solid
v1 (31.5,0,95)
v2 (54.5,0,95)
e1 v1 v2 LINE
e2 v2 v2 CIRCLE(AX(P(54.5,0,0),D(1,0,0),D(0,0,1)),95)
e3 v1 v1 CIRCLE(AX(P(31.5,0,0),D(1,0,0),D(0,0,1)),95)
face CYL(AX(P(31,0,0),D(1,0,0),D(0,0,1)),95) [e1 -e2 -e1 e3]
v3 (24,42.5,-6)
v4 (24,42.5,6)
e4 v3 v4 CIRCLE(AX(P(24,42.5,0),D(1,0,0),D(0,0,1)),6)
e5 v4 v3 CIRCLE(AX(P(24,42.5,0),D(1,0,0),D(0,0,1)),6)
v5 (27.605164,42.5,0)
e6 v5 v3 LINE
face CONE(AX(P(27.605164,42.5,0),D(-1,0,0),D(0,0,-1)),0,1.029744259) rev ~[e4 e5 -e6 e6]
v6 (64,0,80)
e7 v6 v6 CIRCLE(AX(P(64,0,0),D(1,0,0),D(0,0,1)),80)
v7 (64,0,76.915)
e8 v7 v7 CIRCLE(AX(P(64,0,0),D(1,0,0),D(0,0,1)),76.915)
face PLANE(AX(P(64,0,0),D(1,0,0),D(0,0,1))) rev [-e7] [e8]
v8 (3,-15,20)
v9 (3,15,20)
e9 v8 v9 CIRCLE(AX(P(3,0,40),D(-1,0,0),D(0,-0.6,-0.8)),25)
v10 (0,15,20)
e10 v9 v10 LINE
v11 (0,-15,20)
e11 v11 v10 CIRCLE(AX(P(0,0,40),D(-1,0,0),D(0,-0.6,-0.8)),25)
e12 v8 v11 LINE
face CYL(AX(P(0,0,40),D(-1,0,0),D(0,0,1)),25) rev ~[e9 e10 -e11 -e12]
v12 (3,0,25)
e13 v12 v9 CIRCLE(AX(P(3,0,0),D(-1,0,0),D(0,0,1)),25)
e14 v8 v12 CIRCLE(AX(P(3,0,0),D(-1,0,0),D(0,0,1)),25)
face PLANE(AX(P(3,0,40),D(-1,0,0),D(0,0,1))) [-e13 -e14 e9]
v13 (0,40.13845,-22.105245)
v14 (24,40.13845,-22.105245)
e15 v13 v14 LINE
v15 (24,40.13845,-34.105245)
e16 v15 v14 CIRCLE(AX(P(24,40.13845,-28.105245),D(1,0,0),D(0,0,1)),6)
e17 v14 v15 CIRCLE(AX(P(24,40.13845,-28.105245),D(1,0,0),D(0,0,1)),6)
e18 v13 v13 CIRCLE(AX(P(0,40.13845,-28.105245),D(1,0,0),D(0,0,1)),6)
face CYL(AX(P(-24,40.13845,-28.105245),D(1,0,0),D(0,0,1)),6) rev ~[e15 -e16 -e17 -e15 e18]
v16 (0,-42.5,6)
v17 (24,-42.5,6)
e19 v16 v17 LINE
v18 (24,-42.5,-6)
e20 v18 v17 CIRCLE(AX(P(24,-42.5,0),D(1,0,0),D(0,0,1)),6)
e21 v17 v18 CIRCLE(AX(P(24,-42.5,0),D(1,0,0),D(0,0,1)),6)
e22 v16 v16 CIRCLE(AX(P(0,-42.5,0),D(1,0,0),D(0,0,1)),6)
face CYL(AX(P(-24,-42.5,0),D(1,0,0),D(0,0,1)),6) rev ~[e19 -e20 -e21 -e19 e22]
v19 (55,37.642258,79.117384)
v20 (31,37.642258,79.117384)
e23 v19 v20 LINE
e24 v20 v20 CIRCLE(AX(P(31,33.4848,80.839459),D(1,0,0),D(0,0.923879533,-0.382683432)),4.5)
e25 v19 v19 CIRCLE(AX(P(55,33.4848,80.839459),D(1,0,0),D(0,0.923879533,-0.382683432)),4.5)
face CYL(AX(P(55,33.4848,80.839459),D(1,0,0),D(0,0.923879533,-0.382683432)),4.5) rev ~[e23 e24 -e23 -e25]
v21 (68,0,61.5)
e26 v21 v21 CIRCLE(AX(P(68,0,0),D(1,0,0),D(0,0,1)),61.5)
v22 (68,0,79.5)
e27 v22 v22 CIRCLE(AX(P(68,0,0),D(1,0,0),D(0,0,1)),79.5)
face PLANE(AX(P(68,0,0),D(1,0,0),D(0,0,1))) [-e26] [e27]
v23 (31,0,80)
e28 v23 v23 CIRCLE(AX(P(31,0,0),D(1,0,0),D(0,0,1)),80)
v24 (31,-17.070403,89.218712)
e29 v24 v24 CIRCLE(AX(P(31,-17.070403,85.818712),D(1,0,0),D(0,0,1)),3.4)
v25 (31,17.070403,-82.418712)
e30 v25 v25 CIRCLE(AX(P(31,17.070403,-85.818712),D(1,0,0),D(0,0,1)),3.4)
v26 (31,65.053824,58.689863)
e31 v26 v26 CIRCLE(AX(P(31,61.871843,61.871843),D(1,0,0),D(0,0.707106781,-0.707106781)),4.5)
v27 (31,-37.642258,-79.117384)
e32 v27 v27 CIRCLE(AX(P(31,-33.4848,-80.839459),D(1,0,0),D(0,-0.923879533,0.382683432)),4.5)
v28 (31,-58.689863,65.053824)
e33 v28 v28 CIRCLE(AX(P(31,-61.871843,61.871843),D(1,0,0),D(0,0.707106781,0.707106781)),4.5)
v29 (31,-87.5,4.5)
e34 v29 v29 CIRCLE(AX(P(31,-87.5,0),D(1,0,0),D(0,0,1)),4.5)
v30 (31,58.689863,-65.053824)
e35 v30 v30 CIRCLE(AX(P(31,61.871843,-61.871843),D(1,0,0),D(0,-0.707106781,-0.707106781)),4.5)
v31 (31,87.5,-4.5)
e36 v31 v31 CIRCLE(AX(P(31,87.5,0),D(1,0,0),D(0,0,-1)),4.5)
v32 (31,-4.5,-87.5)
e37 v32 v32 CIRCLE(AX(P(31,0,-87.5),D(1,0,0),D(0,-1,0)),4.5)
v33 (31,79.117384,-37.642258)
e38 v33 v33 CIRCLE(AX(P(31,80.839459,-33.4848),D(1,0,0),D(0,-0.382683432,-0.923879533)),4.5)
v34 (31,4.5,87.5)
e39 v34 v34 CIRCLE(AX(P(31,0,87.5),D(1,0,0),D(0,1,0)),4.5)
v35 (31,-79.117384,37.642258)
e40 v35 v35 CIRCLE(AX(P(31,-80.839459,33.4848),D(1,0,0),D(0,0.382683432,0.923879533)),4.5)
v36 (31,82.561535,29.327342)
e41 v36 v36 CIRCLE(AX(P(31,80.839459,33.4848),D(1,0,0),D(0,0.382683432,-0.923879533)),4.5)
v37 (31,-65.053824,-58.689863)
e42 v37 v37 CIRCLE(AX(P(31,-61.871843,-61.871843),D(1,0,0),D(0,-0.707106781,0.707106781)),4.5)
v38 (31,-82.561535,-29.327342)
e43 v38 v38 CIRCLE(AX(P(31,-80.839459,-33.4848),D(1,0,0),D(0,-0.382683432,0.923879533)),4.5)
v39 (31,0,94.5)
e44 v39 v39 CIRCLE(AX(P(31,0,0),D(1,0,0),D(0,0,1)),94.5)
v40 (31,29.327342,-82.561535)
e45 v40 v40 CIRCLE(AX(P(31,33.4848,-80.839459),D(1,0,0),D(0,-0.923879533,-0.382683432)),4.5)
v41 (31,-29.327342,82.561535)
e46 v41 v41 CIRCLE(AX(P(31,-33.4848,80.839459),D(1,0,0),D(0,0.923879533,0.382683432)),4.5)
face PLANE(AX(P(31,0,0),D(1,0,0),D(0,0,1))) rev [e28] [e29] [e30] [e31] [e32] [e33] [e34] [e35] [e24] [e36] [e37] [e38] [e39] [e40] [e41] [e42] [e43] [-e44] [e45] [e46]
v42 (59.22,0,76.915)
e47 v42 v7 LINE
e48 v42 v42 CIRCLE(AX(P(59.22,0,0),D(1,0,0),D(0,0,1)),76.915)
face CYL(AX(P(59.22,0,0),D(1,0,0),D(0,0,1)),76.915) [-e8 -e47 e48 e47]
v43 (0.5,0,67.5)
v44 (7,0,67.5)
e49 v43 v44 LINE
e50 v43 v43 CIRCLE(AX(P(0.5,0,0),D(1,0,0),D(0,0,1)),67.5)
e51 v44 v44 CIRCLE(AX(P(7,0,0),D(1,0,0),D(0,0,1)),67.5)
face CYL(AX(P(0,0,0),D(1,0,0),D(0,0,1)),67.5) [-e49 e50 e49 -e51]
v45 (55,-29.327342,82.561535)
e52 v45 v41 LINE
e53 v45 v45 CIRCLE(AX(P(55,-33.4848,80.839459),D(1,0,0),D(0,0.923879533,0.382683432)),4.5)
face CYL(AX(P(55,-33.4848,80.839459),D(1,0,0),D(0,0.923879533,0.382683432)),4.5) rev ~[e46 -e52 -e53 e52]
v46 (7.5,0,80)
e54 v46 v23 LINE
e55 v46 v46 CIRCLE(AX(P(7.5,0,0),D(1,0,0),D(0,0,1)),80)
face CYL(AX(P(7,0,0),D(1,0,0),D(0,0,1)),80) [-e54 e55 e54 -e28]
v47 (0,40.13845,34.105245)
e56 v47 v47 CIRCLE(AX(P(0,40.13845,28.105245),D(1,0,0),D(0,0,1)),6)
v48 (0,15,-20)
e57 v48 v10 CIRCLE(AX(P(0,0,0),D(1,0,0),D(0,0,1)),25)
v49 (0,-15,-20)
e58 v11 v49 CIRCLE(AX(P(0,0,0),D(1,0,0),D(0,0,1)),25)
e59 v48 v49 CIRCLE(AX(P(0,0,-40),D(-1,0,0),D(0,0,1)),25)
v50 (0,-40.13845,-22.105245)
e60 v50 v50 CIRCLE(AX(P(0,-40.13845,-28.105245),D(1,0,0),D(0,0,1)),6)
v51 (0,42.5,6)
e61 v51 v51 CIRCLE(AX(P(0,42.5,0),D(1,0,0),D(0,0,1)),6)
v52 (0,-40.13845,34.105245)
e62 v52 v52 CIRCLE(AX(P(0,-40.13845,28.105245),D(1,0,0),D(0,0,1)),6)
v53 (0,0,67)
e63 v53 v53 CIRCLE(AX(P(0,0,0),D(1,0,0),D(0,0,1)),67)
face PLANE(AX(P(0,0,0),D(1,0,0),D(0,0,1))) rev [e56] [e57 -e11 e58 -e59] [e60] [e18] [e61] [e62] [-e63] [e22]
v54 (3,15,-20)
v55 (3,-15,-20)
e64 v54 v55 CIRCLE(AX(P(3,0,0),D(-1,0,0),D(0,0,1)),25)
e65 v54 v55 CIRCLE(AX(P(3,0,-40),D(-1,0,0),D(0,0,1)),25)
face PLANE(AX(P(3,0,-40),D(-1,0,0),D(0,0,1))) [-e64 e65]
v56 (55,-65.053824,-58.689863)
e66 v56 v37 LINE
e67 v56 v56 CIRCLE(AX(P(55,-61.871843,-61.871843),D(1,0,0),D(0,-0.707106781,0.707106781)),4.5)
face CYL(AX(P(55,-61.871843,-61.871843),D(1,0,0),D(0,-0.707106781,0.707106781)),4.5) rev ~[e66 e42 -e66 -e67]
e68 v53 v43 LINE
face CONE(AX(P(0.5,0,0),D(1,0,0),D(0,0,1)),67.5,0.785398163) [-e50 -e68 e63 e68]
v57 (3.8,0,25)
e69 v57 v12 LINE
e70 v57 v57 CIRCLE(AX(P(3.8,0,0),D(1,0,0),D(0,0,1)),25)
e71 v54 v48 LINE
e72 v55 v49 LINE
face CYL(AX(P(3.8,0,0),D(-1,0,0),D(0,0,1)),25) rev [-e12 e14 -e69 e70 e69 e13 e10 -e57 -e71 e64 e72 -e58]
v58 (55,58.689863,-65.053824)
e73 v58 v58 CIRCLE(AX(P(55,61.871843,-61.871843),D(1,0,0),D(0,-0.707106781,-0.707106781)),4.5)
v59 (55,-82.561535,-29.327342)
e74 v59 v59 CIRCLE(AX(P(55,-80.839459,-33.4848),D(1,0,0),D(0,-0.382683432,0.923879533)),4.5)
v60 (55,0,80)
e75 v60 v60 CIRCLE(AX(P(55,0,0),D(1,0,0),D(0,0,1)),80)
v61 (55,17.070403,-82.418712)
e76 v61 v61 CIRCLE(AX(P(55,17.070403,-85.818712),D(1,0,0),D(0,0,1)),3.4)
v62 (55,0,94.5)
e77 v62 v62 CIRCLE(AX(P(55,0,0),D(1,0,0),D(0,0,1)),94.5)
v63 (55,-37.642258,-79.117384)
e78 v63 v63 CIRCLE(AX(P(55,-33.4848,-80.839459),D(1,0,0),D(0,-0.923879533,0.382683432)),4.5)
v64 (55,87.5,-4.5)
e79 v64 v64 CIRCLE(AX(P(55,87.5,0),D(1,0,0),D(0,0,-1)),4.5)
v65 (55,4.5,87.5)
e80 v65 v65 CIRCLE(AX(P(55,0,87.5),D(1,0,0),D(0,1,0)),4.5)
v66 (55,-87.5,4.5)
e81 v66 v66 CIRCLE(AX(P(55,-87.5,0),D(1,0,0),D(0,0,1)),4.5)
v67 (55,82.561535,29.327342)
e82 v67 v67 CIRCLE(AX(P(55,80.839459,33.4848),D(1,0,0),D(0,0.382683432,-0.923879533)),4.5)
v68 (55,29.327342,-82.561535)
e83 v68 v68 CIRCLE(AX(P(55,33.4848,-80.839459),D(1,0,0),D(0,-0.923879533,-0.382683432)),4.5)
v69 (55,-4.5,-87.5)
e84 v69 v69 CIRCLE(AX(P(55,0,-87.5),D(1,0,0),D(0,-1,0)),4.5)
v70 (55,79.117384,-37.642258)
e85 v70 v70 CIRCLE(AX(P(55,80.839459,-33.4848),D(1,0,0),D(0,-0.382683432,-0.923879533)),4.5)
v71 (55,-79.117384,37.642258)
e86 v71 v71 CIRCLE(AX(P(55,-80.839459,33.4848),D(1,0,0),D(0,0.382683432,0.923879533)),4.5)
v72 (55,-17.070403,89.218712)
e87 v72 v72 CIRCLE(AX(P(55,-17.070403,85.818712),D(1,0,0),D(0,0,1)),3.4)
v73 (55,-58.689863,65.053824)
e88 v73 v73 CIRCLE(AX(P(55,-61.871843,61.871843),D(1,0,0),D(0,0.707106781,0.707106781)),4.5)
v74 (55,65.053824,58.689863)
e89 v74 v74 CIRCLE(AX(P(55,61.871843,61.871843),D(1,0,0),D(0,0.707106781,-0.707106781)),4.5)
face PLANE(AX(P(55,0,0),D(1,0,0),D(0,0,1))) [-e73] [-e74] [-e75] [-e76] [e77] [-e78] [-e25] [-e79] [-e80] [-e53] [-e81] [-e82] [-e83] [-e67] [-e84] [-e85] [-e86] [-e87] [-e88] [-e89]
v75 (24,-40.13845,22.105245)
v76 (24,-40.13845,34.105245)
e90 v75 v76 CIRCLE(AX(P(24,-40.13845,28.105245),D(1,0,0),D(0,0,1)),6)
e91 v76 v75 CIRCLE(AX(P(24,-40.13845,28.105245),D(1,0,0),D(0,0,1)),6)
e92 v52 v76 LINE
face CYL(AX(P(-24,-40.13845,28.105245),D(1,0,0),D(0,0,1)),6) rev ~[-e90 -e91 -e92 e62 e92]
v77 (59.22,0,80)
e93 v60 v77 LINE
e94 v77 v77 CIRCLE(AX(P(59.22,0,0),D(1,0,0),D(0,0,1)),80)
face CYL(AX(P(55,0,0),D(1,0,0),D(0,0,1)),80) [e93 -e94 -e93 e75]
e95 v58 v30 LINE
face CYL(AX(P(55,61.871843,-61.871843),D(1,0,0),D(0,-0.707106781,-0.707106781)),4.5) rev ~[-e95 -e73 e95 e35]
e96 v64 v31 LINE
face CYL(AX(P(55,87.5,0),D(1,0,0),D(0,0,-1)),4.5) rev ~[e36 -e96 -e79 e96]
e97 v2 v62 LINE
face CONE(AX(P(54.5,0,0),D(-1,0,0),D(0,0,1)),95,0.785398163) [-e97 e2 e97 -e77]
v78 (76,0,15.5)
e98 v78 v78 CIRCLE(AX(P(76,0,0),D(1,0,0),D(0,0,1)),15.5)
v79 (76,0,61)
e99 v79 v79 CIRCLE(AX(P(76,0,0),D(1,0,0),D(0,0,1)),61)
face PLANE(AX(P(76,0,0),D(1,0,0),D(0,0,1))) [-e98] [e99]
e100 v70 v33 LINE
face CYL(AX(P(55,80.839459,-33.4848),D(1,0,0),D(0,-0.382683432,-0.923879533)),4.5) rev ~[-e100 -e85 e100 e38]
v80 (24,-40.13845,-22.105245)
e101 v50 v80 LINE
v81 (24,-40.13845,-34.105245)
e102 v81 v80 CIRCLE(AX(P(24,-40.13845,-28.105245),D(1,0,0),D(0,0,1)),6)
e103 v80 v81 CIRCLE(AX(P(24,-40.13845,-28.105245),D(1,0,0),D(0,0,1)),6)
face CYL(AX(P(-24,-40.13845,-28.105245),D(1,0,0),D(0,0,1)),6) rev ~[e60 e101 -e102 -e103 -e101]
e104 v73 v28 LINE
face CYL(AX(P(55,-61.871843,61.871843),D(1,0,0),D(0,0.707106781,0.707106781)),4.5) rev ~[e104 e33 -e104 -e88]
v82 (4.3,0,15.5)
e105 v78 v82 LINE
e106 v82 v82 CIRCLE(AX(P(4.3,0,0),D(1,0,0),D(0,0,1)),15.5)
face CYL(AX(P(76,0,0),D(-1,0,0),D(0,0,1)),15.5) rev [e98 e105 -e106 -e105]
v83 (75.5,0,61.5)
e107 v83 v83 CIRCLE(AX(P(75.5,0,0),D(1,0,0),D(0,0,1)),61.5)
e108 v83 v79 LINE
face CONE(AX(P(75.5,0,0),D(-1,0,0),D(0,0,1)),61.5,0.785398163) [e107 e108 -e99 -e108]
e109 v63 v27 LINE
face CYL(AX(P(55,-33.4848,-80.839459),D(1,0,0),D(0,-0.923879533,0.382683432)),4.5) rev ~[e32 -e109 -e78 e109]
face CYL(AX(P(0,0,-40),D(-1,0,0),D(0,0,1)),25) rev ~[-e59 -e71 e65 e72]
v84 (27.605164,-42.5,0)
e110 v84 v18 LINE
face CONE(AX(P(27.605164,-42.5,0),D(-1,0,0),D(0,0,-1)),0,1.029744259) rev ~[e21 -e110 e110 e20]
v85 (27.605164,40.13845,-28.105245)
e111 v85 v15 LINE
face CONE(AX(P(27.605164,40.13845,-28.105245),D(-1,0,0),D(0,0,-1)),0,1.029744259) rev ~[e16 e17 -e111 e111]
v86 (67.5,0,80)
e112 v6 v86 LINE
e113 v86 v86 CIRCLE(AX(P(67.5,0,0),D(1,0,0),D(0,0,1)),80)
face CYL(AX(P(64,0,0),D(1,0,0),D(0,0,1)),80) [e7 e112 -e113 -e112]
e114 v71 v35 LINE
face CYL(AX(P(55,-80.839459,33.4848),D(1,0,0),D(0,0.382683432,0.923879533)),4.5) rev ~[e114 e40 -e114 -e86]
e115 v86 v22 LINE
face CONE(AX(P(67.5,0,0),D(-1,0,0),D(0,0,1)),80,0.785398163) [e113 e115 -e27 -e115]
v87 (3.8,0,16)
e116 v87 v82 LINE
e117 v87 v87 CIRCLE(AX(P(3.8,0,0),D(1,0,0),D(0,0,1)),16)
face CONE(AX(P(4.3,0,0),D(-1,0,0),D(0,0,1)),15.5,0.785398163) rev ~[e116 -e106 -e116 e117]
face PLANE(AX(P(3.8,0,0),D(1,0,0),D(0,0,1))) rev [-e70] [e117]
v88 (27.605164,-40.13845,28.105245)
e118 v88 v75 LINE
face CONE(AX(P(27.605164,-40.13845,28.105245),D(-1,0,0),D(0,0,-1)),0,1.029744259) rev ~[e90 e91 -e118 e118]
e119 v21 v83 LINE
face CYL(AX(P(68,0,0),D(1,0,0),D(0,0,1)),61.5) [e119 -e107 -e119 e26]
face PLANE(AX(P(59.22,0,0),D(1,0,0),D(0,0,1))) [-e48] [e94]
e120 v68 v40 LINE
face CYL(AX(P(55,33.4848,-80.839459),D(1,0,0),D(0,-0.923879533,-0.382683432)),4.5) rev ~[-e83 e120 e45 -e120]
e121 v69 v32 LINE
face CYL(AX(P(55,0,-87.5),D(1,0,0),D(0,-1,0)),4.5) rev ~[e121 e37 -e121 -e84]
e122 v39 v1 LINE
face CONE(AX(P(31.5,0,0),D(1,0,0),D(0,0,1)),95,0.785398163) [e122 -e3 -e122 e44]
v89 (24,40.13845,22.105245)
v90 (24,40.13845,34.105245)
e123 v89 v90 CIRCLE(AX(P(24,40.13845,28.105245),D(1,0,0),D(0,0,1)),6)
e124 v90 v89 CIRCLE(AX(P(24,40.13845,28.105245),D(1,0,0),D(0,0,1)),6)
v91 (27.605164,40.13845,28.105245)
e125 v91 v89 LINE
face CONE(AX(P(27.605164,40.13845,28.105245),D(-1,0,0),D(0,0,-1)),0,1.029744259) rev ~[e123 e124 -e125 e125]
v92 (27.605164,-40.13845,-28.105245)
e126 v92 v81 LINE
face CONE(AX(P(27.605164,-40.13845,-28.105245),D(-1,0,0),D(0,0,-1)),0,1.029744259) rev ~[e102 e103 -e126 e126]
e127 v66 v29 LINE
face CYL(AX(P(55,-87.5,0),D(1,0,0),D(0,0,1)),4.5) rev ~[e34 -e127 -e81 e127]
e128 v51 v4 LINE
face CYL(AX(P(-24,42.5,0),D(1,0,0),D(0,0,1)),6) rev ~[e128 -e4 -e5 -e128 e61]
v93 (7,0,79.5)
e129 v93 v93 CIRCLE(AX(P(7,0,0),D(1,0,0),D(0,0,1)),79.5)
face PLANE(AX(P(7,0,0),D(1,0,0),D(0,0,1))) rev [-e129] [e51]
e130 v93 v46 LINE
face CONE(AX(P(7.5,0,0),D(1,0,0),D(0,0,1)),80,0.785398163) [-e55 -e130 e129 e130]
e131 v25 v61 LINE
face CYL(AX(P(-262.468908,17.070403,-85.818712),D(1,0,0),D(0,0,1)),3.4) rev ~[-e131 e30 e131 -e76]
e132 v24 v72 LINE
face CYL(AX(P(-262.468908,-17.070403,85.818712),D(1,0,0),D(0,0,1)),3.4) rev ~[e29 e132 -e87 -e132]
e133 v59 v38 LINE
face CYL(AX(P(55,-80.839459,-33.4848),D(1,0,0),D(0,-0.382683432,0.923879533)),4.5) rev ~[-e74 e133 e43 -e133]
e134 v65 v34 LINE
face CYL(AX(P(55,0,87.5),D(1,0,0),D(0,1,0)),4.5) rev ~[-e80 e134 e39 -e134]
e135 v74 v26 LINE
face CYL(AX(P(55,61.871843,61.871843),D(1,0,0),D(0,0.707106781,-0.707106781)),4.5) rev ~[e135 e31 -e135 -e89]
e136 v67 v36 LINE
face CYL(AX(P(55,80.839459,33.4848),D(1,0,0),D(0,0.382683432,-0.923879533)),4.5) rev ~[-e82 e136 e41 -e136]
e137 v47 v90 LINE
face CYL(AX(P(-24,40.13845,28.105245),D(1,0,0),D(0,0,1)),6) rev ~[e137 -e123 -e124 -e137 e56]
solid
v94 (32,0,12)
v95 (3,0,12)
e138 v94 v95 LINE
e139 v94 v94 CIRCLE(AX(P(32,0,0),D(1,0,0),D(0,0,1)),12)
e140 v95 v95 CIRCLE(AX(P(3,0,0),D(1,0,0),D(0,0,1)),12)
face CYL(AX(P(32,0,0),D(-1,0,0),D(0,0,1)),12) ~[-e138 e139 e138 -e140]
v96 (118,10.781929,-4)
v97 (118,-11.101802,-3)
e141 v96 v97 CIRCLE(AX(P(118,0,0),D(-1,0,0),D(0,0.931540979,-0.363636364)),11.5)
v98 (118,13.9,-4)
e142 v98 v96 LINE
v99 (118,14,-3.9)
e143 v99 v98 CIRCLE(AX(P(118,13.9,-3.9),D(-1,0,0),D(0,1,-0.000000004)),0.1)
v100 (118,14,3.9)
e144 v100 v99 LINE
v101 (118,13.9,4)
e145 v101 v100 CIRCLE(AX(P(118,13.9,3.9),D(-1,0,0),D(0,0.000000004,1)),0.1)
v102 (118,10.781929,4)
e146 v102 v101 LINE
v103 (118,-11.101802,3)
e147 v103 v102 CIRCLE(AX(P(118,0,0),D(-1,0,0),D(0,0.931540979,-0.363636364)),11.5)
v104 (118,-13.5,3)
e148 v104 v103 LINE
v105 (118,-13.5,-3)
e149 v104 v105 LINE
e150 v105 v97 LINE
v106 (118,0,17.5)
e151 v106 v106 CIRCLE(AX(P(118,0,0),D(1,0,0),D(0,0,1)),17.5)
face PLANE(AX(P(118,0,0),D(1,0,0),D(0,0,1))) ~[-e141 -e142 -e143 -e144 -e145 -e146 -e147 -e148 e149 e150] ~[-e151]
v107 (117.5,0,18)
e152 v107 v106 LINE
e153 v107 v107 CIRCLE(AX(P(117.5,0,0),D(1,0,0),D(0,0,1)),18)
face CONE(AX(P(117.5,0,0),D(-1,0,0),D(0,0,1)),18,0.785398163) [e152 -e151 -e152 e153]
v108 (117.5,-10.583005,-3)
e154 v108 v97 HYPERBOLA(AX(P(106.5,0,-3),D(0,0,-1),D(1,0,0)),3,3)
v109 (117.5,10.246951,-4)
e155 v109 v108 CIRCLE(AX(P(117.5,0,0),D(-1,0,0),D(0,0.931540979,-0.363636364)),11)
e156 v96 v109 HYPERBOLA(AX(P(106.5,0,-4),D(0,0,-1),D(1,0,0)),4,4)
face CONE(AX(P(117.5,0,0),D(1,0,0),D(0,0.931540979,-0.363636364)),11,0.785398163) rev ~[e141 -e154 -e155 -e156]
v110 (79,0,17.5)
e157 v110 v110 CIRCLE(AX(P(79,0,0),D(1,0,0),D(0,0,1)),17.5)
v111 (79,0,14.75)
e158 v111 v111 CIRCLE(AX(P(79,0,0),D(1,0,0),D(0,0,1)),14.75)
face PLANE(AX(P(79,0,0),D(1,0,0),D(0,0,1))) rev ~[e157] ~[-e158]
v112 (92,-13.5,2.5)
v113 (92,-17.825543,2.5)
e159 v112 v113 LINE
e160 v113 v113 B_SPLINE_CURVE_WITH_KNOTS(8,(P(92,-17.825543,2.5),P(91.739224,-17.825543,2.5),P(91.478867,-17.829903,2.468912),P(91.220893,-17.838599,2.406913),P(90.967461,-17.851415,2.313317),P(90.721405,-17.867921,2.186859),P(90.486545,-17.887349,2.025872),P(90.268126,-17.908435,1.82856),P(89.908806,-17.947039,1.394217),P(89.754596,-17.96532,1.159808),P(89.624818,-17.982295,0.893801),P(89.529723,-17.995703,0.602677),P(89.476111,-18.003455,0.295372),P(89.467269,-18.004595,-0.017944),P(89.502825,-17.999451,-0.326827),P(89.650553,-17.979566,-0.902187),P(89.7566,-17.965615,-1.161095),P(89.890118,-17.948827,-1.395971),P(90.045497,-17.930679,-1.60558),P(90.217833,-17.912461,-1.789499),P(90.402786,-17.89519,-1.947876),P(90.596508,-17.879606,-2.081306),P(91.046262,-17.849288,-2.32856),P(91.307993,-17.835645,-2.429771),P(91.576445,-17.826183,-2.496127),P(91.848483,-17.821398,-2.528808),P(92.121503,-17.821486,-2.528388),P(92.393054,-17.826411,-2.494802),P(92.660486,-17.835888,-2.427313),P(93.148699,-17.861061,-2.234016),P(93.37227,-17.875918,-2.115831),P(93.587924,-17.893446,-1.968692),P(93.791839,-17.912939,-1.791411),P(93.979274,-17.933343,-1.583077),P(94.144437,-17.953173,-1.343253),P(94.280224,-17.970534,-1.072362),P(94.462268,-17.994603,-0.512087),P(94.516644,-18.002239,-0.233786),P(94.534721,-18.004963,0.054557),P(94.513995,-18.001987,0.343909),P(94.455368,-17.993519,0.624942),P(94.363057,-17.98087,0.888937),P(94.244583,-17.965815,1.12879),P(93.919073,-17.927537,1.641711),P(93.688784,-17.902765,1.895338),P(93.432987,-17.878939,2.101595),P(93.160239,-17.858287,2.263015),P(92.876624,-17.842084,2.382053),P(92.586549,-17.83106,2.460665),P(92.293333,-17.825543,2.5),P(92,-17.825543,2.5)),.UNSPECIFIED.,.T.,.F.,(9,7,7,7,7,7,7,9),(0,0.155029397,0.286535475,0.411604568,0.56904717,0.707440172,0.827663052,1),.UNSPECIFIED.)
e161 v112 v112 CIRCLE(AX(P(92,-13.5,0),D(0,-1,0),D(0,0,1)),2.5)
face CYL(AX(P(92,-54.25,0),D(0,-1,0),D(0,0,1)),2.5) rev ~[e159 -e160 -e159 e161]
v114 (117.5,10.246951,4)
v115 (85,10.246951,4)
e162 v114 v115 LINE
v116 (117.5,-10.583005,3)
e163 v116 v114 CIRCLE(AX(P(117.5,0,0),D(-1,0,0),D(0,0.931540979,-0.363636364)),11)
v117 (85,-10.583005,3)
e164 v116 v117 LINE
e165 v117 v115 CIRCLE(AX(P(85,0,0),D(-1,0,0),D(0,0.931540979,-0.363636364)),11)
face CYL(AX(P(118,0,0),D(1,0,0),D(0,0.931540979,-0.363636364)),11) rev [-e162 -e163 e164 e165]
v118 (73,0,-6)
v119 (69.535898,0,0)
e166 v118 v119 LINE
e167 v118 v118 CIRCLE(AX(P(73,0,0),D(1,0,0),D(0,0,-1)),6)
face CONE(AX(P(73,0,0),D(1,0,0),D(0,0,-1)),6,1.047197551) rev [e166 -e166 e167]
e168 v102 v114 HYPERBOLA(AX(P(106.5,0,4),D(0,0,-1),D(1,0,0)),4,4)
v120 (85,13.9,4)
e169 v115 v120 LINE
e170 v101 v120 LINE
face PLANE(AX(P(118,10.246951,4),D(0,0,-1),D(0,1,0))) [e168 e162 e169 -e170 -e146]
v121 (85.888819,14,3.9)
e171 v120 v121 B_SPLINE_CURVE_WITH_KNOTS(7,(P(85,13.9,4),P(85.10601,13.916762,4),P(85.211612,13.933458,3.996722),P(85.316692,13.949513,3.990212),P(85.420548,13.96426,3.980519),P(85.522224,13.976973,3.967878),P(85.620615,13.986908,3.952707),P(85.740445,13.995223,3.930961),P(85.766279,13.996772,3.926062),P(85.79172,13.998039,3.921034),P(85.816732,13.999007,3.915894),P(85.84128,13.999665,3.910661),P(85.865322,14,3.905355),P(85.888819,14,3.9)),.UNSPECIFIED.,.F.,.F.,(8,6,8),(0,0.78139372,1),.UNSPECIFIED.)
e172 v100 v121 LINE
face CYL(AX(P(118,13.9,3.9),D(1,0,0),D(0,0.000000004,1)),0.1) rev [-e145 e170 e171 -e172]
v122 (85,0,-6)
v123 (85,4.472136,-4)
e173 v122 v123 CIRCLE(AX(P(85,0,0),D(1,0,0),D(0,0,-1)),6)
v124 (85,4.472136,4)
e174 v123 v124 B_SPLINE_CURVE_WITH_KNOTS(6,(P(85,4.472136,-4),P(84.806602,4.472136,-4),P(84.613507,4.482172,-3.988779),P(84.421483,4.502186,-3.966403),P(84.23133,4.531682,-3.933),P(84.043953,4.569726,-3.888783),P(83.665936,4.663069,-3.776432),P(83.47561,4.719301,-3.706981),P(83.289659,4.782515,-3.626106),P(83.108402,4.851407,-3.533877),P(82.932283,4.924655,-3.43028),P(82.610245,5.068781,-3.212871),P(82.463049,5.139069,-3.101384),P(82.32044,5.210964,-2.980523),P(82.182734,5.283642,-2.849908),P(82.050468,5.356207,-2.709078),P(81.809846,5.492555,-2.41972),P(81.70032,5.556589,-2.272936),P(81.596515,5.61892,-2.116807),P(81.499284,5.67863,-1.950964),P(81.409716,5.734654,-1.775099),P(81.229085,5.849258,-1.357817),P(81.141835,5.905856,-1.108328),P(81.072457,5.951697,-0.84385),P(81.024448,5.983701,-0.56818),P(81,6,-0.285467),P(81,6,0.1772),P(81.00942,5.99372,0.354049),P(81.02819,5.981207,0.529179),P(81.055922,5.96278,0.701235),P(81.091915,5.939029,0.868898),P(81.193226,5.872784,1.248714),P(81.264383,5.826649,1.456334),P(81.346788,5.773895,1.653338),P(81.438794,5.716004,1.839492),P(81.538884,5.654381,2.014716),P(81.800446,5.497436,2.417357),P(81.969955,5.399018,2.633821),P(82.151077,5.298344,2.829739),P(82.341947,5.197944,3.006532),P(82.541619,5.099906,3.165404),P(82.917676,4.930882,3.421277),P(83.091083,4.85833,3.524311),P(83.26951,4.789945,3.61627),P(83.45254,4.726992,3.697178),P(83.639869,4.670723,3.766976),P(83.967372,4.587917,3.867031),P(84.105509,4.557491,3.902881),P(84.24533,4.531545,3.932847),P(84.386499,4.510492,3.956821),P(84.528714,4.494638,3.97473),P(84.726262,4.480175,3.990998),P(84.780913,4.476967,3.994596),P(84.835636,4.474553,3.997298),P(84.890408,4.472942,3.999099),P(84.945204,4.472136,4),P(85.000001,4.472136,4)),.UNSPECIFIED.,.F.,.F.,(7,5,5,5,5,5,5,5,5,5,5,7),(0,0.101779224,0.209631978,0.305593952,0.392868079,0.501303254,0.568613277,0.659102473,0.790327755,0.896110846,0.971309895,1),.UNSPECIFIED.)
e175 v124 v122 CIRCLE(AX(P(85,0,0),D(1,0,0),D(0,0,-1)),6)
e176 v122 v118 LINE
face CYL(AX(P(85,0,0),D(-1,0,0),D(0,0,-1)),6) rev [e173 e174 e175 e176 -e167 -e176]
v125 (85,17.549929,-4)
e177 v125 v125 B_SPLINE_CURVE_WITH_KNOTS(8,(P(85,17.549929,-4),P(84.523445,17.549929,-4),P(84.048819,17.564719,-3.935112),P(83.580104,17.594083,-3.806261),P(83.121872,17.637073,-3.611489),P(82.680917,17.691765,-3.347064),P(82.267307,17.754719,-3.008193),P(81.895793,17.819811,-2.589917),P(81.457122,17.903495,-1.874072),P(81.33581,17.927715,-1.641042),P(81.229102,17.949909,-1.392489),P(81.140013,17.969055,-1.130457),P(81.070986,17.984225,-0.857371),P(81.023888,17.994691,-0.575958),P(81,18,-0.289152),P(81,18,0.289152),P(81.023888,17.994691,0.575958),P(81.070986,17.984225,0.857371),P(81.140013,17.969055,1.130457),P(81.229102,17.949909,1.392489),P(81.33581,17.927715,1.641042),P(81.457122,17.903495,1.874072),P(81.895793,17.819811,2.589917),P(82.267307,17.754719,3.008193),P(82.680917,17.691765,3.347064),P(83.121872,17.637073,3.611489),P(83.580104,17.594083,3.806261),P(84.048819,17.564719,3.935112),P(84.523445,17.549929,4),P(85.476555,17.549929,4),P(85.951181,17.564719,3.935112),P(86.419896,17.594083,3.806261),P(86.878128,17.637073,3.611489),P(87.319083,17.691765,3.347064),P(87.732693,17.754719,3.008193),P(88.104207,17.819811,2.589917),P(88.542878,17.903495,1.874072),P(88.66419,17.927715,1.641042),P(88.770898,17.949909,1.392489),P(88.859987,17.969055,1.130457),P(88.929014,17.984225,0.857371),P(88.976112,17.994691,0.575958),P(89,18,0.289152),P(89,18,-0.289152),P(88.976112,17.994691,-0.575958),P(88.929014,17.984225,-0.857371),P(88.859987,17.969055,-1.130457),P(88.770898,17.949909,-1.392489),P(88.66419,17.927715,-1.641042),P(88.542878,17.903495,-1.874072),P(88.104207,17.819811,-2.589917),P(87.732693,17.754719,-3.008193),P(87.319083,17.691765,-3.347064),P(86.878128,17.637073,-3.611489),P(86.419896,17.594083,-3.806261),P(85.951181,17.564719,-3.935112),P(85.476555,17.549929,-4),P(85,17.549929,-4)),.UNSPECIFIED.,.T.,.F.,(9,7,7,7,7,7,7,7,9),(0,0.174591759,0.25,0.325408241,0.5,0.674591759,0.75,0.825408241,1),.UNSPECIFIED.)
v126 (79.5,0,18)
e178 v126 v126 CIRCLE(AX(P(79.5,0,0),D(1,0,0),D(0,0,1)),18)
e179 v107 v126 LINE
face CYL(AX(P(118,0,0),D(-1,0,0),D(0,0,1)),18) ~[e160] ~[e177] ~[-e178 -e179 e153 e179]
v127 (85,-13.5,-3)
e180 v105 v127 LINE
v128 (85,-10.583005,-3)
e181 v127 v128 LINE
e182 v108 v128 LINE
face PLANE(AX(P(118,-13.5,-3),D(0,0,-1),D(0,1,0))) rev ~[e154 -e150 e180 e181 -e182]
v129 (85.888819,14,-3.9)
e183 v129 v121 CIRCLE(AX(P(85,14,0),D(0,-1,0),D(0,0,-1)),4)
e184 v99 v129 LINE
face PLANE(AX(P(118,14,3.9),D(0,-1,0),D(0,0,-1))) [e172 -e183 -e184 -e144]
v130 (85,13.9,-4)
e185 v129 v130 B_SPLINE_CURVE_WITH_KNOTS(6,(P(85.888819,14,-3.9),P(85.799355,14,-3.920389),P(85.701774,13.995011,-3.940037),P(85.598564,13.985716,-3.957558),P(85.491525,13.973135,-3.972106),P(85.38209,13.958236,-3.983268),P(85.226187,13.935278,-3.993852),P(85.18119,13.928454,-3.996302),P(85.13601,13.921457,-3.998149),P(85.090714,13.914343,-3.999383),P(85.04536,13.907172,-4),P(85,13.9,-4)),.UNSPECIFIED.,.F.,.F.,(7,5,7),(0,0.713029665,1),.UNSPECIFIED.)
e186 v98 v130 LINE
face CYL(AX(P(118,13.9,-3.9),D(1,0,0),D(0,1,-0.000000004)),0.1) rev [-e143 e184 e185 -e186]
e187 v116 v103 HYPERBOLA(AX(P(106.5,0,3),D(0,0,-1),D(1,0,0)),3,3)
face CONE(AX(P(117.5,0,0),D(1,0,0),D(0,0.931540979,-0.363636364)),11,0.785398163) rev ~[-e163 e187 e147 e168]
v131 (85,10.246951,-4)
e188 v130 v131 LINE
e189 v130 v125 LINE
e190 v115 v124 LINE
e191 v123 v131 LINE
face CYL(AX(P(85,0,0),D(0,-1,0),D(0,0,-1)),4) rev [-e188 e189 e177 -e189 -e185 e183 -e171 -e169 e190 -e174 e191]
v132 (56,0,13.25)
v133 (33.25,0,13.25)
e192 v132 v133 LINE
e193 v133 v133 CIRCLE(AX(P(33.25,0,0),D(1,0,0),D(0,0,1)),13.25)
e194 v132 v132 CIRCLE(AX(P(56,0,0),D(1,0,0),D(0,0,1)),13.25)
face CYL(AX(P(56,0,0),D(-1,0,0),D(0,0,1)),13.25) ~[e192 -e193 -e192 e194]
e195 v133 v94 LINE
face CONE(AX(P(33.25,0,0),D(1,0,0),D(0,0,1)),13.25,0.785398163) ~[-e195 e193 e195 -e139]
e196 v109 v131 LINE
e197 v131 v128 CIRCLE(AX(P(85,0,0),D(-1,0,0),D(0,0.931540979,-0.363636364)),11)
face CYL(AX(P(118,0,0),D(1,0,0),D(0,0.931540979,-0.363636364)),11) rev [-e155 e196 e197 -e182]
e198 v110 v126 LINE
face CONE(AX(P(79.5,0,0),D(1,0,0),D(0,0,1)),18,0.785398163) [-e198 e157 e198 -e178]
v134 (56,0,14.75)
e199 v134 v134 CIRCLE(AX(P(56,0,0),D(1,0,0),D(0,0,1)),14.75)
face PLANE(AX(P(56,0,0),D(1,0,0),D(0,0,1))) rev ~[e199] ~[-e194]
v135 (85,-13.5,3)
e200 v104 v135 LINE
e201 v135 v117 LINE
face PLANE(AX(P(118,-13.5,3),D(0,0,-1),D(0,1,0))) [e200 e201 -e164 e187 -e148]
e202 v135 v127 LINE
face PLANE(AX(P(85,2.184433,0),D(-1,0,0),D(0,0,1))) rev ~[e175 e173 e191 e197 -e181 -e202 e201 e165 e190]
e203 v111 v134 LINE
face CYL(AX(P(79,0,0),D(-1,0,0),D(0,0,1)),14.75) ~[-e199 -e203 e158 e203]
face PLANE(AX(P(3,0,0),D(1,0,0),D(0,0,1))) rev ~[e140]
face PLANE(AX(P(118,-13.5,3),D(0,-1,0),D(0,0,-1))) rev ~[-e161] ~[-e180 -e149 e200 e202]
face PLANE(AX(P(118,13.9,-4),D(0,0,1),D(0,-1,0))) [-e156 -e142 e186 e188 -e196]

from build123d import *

# Parameters (mm, degrees)
CHAMFER_1_SIZE           = 0.5
CUT_EXTRUDE_1_REACH      = 150.388
SKETCH_2_R               = 4.5
PATTERN_CIRCULAR_1_COUNT = 16
HOLE_WIZARD_M8_1_D       = 6.8
HOLE_WIZARD_M14_1_D      = 12
HOLE_WIZARD_M14_1_DEPTH  = 24
HOLE_WIZARD_M14_1_TIP    = 3.605163714
CUT_EXTRUDE_2_DEPTH      = 33
SKETCH_12_R              = 4
CUT_EXTRUDE_3_DEPTH      = 179.812751223
SKETCH_14_R              = 25
CUT_EXTRUDE_4_DEPTH      = 3
CHAMFER_2_SIZE           = 0.5
SKETCH_19_W              = 6
SKETCH_19_H              = 2.916994756
CUT_EXTRUDE_5_DEPTH      = 33
SKETCH_20_W              = 2.5
SKETCH_20_H              = 81.5


with BuildPart() as part:
    # 草图1 → 旋转1 (revolve)
    with BuildSketch(Plane.XY, mode=Mode.PRIVATE) as revolve_1_sk:
        Polygon((3.8, 15.5), (3.8, 25), (0, 25), (0, 67.5), (7, 67.5), (7, 80), (31, 80), (31, 95), (55, 95), (55, 80), (59.22, 80), (59.22, 76.915), (64, 76.915), (64, 80), (68, 80), (68, 61.5), (76, 61.5), (76, 15.5), align=None)
        Polygon((56, 14.75), (56, 13.25), (33.25, 13.25), (32, 12), (3, 12), (3, 0), (118, 0), (118, 18), (79, 18), (79, 14.75), align=None)
    revolve(revolve_1_sk.sketch.rotate(Axis((0, 0, 0), (1, 0, 0)), 90), axis=Axis((0, 0, 0), (1, 0, 0)))

    # 倒角1
    chamfer_1_edges = [part.edges().sort_by_distance(p)[0] for p in [
        (3.8, 0, -15.5),
        (76, 0, -61.5),
        (68, 0, -80),
        (55, 0, -95),
        (31, 0, -95),
        (7, 0, -80),
        (0, 0, -67.5),
    ]]
    chamfer(chamfer_1_edges, length=CHAMFER_1_SIZE)

    # 草图2 → 切除-拉伸1 (cut, up to next)
    with BuildSketch(Plane(origin=(55, 0, 0), x_dir=(0, 0, -1), z_dir=(1, 0, 0)), mode=Mode.PRIVATE) as cut_extrude_1_sk1:
        with Locations((0, 87.5)):
            Circle(SKETCH_2_R)
    cut_extrude_1_tool1 = extrude(cut_extrude_1_sk1.sketch, amount=-CUT_EXTRUDE_1_REACH, mode=Mode.PRIVATE) & part.part
    cut_extrude_1 = cut_extrude_1_tool1.solids().sort_by_distance((55, 87.5, 0))[0]
    add(cut_extrude_1, mode=Mode.SUBTRACT)

    # 阵列(圆周)1: 切除-拉伸1 ×16 about axis
    pattern_circular_1_axis = Axis((0, 0, 0), (1, 0, 0))
    for i in range(1, PATTERN_CIRCULAR_1_COUNT):
        add(cut_extrude_1.rotate(pattern_circular_1_axis, i * 360 / PATTERN_CIRCULAR_1_COUNT), mode=Mode.SUBTRACT)

    # M8 螺纹孔1 (through all)
    with Locations(Plane(origin=(31, 17.070403176, -85.818712035), x_dir=(0, 0, -1), z_dir=(-1, 0, 0))):
        with Locations((0, 0), (-171.63742407, 34.140806352)):
            Hole(HOLE_WIZARD_M8_1_D / 2)

    # M14 螺纹孔1
    with Locations(Plane(origin=(0, -40.13845017, -28.105245381), x_dir=(0, 0, -1), z_dir=(-1, 0, 0))):
        with Locations((0, 0), (-56.210490762, 0), (-56.210490762, -80.27690034), (0, -80.27690034), (-28.105245381, 2.36154983), (-28.105245381, -82.63845017)):
            Hole(HOLE_WIZARD_M14_1_D / 2, depth=HOLE_WIZARD_M14_1_DEPTH)
            with Locations((0, 0, -(HOLE_WIZARD_M14_1_DEPTH + HOLE_WIZARD_M14_1_TIP / 2))):  # 118° drill point
                Cone(0, HOLE_WIZARD_M14_1_D / 2, HOLE_WIZARD_M14_1_TIP, mode=Mode.SUBTRACT)

    # 草图11 → 切除-拉伸2 (cut)
    with BuildSketch(Plane(origin=(118, 0, 0), x_dir=(0, 0, -1), z_dir=(1, 0, 0))):
        with BuildLine():
            Line((-3.9, 14), (3.9, 14))
            ThreePointArc((3.9, 14), (3.970710678, 13.970710678), (4, 13.9))
            Line((4, 13.9), (4, 10.246950766))
            ThreePointArc((4, 10.246950766), (0, -11), (-4, 10.246950766))
            Line((-4, 10.246950766), (-4, 13.9))
            ThreePointArc((-4, 13.9), (-3.970710678, 13.970710678), (-3.9, 14))
        make_face()
    extrude(amount=-CUT_EXTRUDE_2_DEPTH, mode=Mode.SUBTRACT)

    # 草图12 → 切除-拉伸3 (cut, through all)
    with BuildSketch(Plane(origin=(0, 0, 0), x_dir=(1, 0, 0), z_dir=(0, 1, 0))):
        with Locations(Location((85, 0, 0), (0, 0, 90))):
            Circle(SKETCH_12_R)
    extrude(amount=CUT_EXTRUDE_3_DEPTH, mode=Mode.SUBTRACT)

    # 草图14 → 切除-拉伸4 (cut)
    with BuildSketch(Plane.ZY):
        with Locations((-40, 0)):
            Circle(SKETCH_14_R)
        with Locations((40, 0)):
            Circle(SKETCH_14_R)
    extrude(amount=-CUT_EXTRUDE_4_DEPTH, mode=Mode.SUBTRACT)

    # 草图18 → 切除-旋转1 (revolve, cut)
    with BuildSketch(Plane.XY, mode=Mode.PRIVATE) as cut_revolve_1_sk:
        Polygon((85, 6), (73, 6), (69.535898385, 0), (85, 0), align=None)
    revolve(cut_revolve_1_sk.sketch.rotate(Axis((0, 0, 0), (1, 0, 0)), 270), axis=Axis((0, 0, 0), (1, 0, 0)), mode=Mode.SUBTRACT)

    # 倒角2
    chamfer_2_edges = [part.edges().sort_by_distance(p)[0] for p in [
        (118, -11, 0),
        (79, 0, -18),
        (118, 0, -18),
    ]]
    chamfer(chamfer_2_edges, length=CHAMFER_2_SIZE)

    # 草图19 → 切除-拉伸5 (cut)
    with BuildSketch(Plane(origin=(118, 0, 0), x_dir=(0, 0, -1), z_dir=(1, 0, 0))):
        with Locations((0, -12.041502622)):
            Rectangle(SKETCH_19_W, SKETCH_19_H)
    extrude(amount=-CUT_EXTRUDE_5_DEPTH, mode=Mode.SUBTRACT)

    # 草图20 → M6 螺纹孔1 (revolve, cut)
    with BuildSketch(Plane(origin=(92, -13.5, 0), x_dir=(0, 0, 1), z_dir=(1, 0, 0))):
        with Locations((1.25, 40.75)):
            Rectangle(SKETCH_20_W, SKETCH_20_H)
    revolve(axis=Axis((92, -7.15, 0), (0, -1, 0)), mode=Mode.SUBTRACT)


solid = part.part
